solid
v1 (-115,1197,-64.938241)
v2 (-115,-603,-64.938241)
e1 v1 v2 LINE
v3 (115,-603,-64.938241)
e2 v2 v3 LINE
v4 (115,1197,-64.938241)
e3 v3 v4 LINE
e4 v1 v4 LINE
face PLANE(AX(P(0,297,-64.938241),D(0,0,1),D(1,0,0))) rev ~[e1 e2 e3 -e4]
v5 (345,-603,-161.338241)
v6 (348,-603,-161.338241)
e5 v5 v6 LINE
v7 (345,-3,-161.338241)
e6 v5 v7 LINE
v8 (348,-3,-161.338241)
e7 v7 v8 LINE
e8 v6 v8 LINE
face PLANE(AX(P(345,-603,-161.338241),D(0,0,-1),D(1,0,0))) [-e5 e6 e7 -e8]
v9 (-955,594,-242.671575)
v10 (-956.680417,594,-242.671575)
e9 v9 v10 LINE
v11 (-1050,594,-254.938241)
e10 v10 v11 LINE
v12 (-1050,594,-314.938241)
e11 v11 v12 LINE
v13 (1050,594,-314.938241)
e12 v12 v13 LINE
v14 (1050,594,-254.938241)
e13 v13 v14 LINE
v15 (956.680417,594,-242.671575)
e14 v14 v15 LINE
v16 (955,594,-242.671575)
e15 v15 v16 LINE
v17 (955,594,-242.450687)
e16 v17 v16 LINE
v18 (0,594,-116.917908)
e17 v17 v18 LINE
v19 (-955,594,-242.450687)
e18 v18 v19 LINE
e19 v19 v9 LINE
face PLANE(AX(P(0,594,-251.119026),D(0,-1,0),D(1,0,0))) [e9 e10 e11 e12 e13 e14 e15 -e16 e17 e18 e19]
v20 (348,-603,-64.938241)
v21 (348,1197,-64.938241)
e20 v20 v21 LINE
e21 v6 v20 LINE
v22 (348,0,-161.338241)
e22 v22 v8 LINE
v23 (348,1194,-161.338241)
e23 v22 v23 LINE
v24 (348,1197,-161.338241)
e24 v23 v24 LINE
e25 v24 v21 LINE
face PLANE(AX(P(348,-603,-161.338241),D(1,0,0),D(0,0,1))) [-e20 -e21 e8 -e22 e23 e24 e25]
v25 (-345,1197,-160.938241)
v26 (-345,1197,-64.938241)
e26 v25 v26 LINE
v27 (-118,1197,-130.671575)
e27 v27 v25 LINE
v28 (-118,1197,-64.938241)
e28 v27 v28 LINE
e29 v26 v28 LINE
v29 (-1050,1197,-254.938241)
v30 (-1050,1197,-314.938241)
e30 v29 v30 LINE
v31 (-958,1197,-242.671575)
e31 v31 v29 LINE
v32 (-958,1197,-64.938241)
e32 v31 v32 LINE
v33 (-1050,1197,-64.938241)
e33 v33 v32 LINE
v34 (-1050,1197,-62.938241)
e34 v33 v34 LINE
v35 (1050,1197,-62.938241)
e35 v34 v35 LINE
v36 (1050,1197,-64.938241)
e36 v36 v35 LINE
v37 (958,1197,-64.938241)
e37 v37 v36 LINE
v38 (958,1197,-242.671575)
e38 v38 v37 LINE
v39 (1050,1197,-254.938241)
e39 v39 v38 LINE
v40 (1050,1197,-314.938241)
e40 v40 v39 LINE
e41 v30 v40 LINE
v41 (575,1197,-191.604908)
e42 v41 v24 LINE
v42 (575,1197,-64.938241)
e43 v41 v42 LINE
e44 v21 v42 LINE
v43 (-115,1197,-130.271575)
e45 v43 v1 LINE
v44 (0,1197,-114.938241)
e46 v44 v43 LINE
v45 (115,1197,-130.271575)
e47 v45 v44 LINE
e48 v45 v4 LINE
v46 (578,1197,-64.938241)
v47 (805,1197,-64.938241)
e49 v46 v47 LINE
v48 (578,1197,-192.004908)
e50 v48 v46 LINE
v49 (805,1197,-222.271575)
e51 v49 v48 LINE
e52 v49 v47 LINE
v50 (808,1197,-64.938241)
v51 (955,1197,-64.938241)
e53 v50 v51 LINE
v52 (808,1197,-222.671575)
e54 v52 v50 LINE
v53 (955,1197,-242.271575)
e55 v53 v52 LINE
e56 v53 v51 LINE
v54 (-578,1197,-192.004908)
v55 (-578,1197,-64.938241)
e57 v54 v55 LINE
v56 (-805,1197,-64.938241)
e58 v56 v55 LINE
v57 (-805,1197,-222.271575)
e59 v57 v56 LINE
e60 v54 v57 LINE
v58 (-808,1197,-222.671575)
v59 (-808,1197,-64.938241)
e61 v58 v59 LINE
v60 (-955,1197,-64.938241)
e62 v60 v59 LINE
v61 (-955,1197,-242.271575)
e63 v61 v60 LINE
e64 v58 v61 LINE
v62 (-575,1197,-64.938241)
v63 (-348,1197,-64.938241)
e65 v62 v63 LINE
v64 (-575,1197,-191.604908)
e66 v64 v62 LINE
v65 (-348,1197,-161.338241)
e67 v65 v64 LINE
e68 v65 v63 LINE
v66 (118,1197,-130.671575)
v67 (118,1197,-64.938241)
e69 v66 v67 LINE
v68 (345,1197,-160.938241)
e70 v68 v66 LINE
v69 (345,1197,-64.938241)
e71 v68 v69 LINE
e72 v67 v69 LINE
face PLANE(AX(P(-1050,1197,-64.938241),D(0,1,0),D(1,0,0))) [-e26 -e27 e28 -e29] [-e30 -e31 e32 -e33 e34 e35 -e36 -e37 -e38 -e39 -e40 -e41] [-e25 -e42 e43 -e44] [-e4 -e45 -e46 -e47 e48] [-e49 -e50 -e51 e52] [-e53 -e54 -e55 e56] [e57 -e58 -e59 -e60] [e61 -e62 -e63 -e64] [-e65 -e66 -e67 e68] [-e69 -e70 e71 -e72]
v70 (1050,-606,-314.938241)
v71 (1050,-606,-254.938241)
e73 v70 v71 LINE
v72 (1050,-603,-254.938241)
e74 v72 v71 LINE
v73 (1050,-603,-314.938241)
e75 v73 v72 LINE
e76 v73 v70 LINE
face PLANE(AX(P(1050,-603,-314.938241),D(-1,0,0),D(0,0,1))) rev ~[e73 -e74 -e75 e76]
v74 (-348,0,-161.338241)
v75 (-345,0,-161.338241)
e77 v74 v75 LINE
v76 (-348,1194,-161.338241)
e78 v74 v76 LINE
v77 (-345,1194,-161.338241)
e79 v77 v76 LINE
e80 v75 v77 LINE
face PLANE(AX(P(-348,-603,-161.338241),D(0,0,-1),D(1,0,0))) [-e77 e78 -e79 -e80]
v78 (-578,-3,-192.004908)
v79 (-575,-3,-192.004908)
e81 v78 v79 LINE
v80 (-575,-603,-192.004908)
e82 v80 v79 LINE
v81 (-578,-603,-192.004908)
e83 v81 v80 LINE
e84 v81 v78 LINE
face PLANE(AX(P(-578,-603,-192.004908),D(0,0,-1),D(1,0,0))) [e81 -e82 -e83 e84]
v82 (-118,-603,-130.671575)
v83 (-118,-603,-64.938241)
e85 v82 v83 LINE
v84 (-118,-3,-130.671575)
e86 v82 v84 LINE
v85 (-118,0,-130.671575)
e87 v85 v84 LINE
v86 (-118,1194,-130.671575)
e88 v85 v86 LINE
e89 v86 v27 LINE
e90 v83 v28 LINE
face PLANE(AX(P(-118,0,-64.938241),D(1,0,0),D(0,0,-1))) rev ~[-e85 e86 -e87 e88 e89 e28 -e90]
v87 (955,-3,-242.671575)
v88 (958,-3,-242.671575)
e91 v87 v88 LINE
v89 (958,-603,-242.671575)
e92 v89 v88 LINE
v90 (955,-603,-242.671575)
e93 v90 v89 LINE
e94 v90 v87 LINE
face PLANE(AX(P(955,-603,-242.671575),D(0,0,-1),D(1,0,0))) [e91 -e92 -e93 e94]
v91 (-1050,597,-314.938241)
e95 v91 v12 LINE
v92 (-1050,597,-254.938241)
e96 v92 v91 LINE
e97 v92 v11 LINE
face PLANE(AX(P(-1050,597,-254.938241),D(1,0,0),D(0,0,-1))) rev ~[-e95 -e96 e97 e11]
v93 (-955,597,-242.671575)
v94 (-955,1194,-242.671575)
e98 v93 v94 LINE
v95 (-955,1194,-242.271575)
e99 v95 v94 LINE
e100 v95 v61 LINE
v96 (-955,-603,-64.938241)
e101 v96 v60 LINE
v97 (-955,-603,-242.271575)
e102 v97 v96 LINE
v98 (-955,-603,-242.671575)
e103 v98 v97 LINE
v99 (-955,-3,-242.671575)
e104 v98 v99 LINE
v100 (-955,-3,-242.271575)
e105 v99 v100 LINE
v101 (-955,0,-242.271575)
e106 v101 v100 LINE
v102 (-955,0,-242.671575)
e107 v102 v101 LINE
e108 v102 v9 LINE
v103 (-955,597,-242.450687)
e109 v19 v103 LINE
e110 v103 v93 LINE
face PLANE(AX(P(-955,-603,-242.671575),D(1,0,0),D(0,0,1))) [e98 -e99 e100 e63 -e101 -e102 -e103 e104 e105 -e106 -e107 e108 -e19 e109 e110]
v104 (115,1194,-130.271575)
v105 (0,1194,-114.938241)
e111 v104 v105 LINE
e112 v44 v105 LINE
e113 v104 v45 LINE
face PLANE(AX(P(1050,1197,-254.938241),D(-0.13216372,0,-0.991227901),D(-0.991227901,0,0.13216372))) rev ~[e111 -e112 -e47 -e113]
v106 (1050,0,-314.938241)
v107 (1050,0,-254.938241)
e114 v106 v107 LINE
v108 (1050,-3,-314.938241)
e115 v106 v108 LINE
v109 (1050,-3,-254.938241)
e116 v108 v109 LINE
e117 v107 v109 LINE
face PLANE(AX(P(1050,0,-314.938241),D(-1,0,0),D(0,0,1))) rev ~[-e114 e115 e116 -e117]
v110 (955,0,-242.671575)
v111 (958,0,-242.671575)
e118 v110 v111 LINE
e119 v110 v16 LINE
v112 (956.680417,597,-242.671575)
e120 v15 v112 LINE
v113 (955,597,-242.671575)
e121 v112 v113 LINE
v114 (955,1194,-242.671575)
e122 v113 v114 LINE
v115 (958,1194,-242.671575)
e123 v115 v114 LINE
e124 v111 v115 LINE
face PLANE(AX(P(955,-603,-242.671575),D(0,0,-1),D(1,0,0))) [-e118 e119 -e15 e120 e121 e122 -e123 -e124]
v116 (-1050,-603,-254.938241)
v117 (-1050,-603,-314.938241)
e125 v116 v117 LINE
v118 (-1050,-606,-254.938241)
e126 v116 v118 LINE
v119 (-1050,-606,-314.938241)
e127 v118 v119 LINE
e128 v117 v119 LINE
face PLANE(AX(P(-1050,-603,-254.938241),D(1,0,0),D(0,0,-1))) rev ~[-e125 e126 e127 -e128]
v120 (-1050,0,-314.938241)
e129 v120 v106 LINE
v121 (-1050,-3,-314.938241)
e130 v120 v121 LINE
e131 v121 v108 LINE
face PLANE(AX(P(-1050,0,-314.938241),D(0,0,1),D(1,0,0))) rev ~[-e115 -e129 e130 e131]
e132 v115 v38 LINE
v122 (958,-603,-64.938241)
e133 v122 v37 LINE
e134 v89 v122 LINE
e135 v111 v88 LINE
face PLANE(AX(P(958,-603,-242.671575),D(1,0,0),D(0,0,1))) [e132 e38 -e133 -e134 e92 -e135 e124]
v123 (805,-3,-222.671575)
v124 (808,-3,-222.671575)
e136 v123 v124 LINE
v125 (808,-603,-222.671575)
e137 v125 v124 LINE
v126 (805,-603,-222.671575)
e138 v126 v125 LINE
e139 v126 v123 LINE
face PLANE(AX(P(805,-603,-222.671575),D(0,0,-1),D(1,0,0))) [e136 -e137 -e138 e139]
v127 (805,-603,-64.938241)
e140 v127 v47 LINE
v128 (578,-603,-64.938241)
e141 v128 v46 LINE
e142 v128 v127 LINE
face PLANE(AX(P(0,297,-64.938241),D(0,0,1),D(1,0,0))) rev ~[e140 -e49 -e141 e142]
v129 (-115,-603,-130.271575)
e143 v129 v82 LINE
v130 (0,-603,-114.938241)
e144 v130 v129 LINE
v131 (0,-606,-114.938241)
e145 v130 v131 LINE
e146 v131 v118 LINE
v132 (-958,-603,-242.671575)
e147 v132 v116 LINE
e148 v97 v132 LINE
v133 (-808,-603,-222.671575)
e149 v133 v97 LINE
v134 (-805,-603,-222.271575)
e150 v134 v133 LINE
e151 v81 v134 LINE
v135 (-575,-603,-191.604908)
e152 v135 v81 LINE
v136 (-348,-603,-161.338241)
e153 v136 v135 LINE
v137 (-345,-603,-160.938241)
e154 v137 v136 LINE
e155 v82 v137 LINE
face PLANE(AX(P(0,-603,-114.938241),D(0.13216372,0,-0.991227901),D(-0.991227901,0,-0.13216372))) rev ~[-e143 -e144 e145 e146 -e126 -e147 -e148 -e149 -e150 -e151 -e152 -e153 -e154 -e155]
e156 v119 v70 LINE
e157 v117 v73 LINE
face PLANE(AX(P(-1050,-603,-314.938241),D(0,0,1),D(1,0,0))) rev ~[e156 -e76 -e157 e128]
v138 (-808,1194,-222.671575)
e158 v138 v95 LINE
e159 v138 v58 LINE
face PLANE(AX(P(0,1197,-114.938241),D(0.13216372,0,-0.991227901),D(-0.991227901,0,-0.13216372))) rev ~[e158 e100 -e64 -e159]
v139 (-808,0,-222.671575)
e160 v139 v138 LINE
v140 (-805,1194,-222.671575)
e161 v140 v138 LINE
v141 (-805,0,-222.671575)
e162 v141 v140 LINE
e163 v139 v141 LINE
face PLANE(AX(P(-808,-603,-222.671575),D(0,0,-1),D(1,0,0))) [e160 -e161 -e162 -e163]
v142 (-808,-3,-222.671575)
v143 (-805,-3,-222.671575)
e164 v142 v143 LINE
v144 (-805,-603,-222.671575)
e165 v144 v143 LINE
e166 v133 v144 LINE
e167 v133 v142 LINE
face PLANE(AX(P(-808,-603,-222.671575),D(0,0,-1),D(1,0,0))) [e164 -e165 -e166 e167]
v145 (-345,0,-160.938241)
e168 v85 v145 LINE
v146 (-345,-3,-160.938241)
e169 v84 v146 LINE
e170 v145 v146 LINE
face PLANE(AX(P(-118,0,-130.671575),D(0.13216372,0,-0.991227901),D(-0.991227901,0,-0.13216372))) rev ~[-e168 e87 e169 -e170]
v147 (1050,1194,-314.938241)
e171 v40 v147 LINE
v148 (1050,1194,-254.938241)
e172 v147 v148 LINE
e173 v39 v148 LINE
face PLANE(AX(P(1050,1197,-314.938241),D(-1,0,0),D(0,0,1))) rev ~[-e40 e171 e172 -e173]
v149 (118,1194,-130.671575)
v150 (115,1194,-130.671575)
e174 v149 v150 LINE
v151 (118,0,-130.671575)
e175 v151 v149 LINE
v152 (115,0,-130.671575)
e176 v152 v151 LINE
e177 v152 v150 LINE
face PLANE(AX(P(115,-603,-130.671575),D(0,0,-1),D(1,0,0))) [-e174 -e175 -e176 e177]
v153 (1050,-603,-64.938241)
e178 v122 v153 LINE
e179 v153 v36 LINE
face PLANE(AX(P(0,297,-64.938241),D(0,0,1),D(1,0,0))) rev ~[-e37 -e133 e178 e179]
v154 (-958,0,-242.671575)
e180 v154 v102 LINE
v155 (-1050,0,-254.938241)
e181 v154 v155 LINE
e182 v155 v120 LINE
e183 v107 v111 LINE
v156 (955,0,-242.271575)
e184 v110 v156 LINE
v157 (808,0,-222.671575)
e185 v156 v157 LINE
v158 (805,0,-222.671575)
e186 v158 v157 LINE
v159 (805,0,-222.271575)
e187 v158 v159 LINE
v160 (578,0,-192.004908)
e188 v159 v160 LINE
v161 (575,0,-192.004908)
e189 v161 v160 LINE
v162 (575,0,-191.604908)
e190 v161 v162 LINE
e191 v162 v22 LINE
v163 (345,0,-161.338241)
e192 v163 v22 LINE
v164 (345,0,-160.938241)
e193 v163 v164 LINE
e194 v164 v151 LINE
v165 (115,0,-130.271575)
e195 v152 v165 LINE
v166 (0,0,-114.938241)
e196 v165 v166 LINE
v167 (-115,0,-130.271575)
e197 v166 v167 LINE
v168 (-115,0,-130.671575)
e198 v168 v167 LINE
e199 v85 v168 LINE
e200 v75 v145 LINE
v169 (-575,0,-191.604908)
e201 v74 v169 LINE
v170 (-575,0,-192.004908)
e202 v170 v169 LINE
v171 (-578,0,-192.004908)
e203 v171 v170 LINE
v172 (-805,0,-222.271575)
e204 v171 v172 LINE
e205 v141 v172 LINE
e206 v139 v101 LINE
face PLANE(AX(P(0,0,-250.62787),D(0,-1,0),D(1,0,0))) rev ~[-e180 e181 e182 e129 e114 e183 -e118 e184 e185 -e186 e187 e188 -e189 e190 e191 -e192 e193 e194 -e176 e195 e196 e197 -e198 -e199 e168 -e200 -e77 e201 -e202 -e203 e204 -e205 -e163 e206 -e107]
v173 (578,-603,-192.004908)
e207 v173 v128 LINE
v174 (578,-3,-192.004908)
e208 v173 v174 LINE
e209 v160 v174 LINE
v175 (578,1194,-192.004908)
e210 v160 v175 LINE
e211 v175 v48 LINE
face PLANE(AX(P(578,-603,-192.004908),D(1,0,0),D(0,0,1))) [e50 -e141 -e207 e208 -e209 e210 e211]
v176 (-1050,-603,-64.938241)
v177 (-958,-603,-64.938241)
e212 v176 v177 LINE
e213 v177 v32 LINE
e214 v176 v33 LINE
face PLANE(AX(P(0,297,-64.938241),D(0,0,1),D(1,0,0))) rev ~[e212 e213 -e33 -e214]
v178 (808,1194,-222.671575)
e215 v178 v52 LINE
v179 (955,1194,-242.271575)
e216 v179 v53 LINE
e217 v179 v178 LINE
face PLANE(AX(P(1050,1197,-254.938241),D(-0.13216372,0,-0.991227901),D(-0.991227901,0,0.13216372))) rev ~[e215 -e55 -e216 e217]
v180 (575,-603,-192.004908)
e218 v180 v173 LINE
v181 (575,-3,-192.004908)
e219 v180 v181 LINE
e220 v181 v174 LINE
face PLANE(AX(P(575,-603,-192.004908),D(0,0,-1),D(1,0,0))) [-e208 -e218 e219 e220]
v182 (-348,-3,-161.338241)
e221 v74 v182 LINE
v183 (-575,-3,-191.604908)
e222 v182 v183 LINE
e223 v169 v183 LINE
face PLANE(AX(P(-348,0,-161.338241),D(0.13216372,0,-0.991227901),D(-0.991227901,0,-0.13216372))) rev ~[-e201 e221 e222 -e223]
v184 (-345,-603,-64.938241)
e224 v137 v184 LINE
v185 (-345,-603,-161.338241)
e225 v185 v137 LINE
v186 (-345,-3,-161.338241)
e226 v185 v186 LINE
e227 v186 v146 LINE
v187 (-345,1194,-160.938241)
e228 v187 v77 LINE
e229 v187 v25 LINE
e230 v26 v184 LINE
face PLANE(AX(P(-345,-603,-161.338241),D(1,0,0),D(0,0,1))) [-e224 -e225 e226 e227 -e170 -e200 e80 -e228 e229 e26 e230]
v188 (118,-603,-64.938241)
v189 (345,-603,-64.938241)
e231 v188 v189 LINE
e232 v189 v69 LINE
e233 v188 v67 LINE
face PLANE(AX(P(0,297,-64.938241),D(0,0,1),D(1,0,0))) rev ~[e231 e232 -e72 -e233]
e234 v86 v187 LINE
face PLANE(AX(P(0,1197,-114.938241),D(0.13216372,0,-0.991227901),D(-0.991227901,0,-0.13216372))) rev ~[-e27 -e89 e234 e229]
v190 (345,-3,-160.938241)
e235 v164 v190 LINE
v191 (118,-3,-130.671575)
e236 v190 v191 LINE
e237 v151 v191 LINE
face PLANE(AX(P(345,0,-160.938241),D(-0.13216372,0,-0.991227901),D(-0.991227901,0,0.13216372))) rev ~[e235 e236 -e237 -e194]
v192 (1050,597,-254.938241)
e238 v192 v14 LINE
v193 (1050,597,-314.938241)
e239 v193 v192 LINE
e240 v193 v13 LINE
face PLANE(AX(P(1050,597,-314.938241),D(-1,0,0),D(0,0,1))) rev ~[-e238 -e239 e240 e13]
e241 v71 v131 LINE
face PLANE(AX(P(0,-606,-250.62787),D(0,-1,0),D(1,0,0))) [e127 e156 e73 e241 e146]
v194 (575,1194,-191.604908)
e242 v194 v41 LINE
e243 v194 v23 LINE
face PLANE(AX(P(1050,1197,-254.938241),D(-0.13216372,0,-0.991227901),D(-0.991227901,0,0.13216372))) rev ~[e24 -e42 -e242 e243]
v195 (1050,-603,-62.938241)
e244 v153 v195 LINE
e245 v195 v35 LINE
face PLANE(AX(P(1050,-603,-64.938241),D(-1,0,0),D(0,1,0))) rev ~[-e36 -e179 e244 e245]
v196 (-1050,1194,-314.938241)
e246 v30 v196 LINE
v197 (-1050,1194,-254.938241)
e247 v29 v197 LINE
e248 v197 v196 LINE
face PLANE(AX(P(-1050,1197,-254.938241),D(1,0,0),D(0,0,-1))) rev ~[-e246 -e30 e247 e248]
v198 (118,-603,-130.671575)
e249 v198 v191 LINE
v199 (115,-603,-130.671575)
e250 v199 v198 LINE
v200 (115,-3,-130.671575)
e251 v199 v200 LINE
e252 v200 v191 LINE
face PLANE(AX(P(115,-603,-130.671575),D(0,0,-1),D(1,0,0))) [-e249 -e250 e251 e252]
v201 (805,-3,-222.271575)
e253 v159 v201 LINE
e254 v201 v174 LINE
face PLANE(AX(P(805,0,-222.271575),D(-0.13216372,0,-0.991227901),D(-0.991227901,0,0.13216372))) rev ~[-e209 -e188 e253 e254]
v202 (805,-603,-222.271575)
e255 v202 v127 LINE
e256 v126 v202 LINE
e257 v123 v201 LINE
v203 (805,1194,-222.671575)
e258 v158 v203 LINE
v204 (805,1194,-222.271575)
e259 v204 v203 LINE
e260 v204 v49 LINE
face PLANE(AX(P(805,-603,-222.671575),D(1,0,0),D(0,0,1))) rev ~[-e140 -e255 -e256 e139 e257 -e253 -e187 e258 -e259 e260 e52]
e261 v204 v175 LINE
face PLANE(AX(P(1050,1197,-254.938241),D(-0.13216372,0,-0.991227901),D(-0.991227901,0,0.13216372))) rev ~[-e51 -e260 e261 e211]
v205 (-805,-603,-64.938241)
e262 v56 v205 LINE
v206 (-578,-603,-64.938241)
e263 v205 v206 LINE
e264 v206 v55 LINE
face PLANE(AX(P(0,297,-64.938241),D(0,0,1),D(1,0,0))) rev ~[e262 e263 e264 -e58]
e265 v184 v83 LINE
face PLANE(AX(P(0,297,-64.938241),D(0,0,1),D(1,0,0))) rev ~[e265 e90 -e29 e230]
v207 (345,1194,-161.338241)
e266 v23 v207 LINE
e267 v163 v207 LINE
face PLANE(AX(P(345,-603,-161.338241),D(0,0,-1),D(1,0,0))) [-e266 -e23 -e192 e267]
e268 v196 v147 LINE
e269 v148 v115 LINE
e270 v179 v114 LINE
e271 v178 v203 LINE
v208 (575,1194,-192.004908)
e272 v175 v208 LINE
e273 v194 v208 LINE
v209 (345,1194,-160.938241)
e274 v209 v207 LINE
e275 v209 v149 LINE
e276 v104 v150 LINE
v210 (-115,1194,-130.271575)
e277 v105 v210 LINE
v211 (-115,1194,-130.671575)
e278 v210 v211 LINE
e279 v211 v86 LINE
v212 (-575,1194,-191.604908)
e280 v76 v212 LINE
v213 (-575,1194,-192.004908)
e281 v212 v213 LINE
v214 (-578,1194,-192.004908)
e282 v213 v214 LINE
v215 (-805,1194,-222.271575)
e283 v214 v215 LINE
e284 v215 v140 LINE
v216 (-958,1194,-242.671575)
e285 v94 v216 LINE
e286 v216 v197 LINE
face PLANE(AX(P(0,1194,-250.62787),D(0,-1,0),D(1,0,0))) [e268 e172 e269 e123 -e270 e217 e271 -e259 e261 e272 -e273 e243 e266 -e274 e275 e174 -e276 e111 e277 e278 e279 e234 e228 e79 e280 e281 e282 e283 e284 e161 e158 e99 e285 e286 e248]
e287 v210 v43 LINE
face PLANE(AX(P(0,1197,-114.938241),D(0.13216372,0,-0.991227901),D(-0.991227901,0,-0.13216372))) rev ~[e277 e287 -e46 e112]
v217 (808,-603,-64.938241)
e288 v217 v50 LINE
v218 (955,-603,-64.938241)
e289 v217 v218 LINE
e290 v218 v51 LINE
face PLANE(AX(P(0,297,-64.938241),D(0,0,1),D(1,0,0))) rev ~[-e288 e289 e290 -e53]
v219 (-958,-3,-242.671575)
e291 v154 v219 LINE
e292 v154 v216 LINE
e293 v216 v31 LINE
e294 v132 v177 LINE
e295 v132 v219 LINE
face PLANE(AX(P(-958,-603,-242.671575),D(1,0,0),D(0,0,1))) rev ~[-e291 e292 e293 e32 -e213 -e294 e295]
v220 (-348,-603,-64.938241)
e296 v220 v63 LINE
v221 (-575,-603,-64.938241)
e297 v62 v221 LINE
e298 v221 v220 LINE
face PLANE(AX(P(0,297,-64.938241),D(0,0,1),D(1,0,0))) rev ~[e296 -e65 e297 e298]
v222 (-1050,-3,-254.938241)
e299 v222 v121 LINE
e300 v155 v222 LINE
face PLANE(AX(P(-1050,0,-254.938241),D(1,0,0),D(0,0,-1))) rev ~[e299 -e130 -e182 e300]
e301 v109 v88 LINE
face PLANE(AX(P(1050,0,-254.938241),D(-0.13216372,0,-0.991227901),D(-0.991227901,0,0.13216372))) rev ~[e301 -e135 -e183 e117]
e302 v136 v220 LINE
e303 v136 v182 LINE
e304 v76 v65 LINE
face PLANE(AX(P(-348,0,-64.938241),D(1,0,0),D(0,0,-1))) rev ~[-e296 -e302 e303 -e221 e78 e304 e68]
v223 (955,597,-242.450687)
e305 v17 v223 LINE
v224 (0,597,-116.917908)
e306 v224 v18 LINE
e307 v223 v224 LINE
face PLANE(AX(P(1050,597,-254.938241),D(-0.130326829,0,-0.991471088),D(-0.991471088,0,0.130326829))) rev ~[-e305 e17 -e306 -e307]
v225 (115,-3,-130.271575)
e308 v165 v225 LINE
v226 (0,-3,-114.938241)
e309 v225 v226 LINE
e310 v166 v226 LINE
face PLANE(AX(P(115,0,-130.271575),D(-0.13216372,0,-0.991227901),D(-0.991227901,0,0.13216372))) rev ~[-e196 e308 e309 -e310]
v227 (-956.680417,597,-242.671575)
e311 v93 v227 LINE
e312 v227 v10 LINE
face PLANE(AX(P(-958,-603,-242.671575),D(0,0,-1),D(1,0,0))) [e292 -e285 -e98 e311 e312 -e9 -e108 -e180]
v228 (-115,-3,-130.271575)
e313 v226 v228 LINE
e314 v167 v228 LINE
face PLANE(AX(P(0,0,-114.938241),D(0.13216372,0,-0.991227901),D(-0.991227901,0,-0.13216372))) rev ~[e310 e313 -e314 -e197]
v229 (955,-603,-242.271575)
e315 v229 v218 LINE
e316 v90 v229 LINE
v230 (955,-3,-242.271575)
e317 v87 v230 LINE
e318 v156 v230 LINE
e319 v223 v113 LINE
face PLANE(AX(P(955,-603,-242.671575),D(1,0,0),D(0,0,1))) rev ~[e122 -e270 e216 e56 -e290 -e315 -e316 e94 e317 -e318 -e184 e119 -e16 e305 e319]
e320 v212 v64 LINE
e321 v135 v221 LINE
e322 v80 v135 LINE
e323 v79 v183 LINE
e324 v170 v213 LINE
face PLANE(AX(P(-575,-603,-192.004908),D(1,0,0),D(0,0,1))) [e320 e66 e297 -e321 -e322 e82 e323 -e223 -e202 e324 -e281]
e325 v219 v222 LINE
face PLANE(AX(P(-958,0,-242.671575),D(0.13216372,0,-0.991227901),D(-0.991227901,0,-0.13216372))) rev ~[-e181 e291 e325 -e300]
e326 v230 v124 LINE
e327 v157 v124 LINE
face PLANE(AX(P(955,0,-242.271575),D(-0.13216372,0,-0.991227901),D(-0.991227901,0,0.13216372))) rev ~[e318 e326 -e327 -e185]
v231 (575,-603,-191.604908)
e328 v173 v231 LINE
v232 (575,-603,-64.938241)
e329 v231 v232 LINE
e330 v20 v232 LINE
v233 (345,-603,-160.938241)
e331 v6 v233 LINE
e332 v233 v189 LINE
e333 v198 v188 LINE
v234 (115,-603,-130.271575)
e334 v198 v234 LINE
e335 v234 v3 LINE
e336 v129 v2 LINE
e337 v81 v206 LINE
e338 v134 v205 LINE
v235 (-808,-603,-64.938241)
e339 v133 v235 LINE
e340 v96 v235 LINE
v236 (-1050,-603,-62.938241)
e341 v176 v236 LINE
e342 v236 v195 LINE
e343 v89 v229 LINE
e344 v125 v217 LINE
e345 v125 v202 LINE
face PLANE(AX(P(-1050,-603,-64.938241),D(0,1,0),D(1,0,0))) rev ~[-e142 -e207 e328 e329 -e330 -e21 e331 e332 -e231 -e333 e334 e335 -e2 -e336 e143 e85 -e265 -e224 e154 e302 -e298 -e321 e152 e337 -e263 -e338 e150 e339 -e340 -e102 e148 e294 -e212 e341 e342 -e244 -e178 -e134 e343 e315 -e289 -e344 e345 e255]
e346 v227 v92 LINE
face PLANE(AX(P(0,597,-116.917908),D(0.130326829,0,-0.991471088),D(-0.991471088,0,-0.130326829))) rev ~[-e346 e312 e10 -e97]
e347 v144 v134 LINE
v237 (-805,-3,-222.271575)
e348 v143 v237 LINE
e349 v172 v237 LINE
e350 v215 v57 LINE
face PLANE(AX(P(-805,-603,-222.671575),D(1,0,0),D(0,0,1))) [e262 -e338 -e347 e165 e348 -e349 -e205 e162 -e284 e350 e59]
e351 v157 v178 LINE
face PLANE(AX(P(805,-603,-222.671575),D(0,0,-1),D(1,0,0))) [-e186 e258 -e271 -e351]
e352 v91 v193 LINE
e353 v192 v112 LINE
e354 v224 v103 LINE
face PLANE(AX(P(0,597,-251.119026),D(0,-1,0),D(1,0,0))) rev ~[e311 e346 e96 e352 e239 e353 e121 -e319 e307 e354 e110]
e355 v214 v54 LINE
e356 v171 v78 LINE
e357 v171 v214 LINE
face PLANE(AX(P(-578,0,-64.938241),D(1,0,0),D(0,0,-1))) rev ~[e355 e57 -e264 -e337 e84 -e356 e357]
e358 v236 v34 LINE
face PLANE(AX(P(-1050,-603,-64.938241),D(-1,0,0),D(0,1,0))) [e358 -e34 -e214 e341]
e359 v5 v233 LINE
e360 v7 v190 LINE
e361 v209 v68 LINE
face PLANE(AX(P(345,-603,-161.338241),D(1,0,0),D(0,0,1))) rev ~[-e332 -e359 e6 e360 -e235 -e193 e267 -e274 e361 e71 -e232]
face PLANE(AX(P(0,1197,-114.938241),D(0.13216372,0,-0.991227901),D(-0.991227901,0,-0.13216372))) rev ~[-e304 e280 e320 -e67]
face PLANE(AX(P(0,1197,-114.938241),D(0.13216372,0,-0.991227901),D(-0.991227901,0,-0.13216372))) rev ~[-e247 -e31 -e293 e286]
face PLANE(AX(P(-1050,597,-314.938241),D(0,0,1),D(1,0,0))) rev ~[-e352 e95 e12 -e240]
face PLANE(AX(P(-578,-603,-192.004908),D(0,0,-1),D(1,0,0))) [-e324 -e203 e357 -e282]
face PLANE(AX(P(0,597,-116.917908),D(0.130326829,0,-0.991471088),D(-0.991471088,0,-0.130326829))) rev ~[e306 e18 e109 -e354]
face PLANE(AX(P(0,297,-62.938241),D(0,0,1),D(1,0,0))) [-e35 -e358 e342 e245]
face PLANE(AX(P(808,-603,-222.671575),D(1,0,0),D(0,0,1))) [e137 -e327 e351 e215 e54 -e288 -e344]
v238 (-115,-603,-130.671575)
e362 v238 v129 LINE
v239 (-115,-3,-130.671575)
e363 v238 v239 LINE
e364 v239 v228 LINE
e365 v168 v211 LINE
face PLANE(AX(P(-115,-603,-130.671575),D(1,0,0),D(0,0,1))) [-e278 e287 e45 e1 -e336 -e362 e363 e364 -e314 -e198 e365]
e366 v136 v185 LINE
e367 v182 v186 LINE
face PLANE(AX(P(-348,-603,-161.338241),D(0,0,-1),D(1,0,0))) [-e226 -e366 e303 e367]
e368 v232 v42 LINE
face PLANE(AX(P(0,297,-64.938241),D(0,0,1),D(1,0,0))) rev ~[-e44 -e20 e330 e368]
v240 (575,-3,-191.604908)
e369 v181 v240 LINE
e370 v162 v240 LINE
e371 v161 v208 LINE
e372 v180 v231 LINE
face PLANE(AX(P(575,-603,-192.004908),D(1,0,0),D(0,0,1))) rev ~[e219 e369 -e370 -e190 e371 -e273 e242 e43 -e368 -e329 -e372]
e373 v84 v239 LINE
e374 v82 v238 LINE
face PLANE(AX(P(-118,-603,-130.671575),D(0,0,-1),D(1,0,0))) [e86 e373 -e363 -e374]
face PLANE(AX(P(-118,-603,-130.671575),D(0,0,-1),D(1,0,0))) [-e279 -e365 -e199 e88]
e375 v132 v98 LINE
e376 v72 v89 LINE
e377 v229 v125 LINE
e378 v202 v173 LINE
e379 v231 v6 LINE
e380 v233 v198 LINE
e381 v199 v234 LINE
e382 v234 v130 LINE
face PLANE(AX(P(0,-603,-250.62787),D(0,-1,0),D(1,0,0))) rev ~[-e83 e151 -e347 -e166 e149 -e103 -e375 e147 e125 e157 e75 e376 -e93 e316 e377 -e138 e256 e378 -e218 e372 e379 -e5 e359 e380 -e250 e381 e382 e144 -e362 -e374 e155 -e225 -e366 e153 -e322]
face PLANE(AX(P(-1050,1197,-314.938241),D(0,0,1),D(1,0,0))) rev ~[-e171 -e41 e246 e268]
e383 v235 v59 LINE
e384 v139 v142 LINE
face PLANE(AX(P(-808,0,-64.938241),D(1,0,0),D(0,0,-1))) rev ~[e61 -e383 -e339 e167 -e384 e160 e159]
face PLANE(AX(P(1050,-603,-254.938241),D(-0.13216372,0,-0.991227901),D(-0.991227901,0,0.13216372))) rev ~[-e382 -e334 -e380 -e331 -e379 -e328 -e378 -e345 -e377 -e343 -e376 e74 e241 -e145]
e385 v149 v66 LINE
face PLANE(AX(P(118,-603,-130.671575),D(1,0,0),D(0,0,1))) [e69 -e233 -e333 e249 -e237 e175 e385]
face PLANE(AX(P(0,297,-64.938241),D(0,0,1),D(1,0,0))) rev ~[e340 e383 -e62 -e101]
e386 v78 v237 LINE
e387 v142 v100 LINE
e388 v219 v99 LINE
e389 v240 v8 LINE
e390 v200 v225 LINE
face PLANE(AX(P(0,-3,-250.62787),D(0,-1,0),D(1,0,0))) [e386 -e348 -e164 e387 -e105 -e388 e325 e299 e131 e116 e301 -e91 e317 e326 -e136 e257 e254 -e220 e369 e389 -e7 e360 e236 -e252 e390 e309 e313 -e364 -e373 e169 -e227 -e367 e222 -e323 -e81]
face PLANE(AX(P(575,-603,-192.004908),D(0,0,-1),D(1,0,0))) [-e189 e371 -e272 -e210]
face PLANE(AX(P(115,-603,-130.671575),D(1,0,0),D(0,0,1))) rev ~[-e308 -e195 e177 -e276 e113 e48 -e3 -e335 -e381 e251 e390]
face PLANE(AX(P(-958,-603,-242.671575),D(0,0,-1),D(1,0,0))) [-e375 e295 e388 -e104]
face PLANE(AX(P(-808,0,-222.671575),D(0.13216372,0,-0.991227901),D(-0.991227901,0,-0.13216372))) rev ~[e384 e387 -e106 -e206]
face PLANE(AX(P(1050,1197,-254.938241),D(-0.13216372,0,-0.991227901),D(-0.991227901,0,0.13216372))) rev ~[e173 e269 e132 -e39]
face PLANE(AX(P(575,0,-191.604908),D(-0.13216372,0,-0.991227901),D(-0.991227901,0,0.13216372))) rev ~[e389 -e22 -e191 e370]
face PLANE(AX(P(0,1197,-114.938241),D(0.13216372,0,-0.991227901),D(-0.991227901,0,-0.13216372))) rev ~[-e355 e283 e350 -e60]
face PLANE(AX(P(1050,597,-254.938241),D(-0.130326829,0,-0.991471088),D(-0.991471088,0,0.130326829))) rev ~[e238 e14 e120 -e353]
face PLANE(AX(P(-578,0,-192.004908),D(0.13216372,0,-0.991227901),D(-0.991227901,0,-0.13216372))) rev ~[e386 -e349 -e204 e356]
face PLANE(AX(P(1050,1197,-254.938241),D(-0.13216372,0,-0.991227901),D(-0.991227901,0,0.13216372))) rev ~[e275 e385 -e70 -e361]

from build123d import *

# Parameters (mm, degrees)
F1_DEPTH  = 3
F3_W      = 3
F3_H      = 177.7333333333
F3_H_2    = 157.7333333333
F3_H_3    = 127.0666666667
F3_H_4    = 96.4
F3_H_5    = 65.7333333333
F4_DEPTH  = 1800
F7_DEPTH  = 3
F10_DEPTH = 3
F11_W     = 2100
F11_H     = 1800
F12_DEPTH = 2
F14_DEPTH = 3


with BuildPart() as f1:
    # F0 (on Front) → F1 (new body)
    with BuildSketch(Plane.XZ):
        Polygon((-1050, -314.938241453), (0, -314.938241453), (1050, -314.938241453), (1050, -254.938241453), (958, -242.6715747864), (955, -242.2715747864), (808, -222.6715747864), (805, -222.2715747864), (578, -192.0049081197), (575, -191.6049081197), (348, -161.338241453), (345, -160.938241453), (118, -130.6715747864), (115, -130.2715747864), (0, -114.938241453), (-115, -130.2715747864), (-118, -130.6715747864), (-345, -160.938241453), (-348, -161.338241453), (-575, -191.6049081197), (-578, -192.0049081197), (-805, -222.2715747864), (-808, -222.6715747864), (-955, -242.2715747864), (-958, -242.6715747864), (-1050, -254.938241453), align=None)
        Polygon((-958, -64.938241453), (-958, -242.6715747864), (-955, -242.2715747864), (-955, -64.938241453), align=None)
        Polygon((955, -242.2715747864), (958, -242.6715747864), (958, -64.938241453), (955, -64.938241453), align=None)
        Polygon((-808, -64.938241453), (-808, -222.6715747864), (-805, -222.2715747864), (-805, -64.938241453), align=None)
        Polygon((805, -222.2715747864), (808, -222.6715747864), (808, -64.938241453), (805, -64.938241453), align=None)
        Polygon((-578, -64.938241453), (-578, -192.0049081197), (-575, -191.6049081197), (-575, -64.938241453), align=None)
        Polygon((575, -191.6049081197), (578, -192.0049081197), (578, -64.938241453), (575, -64.938241453), align=None)
        Polygon((-348, -64.938241453), (-348, -161.338241453), (-345, -160.938241453), (-345, -64.938241453), align=None)
        Polygon((345, -160.938241453), (348, -161.338241453), (348, -64.938241453), (345, -64.938241453), align=None)
        Polygon((-118, -64.938241453), (-118, -130.6715747864), (-115, -130.2715747864), (-115, -64.938241453), align=None)
        Polygon((115, -130.2715747864), (118, -130.6715747864), (118, -64.938241453), (115, -64.938241453), align=None)
    extrude(amount=F1_DEPTH)

    # F3 (on offset) → F4 (join)
    with BuildSketch(Plane.XZ.offset(603)):
        with Locations((-956.5, -153.8049081197)):
            Rectangle(F3_W, F3_H)
        with Locations((-806.5, -143.8049081197)):
            Rectangle(F3_W, F3_H_2)
        with Locations((-576.5, -128.4715747864)):
            Rectangle(F3_W, F3_H_3)
        with Locations((-346.5, -113.138241453)):
            Rectangle(F3_W, F3_H_4)
        with Locations((-116.5, -97.8049081197)):
            Rectangle(F3_W, F3_H_5)
        with Locations((346.5, -113.138241453)):
            Rectangle(F3_W, F3_H_4)
        with Locations((576.5, -128.4715747864)):
            Rectangle(F3_W, F3_H_3)
        with Locations((806.5, -143.8049081197)):
            Rectangle(F3_W, F3_H_2)
        with Locations((116.5, -97.8049081197)):
            Rectangle(F3_W, F3_H_5)
        with Locations((956.5, -153.8049081197)):
            Rectangle(F3_W, F3_H)
    extrude(amount=-F4_DEPTH)

    # F6 (on offset) → F7 (join)
    with BuildSketch(Plane.XZ.offset(-597)):
        Polygon((1050, -254.938241453), (0, -116.9179081917), (-1050, -254.938241453), (-1050, -314.938241453), (0, -314.938241453), (1050, -314.938241453), align=None)
    extrude(amount=F7_DEPTH)

    # F9 (on offset) → F10 (join)
    with BuildSketch(Plane.XZ.offset(-1197)):
        Polygon((1050, -254.938241453), (0, -114.938241453), (-1050, -254.938241453), (-1050, -314.938241453), (0, -314.938241453), (1050, -314.938241453), align=None)
    extrude(amount=F10_DEPTH)

    # F11 (on face) → F12 (join)
    with BuildSketch(Plane.XY.offset(-64.938241453)):
        with Locations((0, 297)):
            Rectangle(F11_W, F11_H)
    extrude(amount=F12_DEPTH)

    # F13 (on offset) → F14 (join)
    with BuildSketch(Plane.XZ.offset(603)):
        Polygon((1050, -254.938241453), (0, -114.938241453), (-1050, -254.938241453), (-1050, -314.938241453), (0, -314.938241453), (1050, -314.938241453), align=None)
    extrude(amount=F14_DEPTH)


solid = f1.part
